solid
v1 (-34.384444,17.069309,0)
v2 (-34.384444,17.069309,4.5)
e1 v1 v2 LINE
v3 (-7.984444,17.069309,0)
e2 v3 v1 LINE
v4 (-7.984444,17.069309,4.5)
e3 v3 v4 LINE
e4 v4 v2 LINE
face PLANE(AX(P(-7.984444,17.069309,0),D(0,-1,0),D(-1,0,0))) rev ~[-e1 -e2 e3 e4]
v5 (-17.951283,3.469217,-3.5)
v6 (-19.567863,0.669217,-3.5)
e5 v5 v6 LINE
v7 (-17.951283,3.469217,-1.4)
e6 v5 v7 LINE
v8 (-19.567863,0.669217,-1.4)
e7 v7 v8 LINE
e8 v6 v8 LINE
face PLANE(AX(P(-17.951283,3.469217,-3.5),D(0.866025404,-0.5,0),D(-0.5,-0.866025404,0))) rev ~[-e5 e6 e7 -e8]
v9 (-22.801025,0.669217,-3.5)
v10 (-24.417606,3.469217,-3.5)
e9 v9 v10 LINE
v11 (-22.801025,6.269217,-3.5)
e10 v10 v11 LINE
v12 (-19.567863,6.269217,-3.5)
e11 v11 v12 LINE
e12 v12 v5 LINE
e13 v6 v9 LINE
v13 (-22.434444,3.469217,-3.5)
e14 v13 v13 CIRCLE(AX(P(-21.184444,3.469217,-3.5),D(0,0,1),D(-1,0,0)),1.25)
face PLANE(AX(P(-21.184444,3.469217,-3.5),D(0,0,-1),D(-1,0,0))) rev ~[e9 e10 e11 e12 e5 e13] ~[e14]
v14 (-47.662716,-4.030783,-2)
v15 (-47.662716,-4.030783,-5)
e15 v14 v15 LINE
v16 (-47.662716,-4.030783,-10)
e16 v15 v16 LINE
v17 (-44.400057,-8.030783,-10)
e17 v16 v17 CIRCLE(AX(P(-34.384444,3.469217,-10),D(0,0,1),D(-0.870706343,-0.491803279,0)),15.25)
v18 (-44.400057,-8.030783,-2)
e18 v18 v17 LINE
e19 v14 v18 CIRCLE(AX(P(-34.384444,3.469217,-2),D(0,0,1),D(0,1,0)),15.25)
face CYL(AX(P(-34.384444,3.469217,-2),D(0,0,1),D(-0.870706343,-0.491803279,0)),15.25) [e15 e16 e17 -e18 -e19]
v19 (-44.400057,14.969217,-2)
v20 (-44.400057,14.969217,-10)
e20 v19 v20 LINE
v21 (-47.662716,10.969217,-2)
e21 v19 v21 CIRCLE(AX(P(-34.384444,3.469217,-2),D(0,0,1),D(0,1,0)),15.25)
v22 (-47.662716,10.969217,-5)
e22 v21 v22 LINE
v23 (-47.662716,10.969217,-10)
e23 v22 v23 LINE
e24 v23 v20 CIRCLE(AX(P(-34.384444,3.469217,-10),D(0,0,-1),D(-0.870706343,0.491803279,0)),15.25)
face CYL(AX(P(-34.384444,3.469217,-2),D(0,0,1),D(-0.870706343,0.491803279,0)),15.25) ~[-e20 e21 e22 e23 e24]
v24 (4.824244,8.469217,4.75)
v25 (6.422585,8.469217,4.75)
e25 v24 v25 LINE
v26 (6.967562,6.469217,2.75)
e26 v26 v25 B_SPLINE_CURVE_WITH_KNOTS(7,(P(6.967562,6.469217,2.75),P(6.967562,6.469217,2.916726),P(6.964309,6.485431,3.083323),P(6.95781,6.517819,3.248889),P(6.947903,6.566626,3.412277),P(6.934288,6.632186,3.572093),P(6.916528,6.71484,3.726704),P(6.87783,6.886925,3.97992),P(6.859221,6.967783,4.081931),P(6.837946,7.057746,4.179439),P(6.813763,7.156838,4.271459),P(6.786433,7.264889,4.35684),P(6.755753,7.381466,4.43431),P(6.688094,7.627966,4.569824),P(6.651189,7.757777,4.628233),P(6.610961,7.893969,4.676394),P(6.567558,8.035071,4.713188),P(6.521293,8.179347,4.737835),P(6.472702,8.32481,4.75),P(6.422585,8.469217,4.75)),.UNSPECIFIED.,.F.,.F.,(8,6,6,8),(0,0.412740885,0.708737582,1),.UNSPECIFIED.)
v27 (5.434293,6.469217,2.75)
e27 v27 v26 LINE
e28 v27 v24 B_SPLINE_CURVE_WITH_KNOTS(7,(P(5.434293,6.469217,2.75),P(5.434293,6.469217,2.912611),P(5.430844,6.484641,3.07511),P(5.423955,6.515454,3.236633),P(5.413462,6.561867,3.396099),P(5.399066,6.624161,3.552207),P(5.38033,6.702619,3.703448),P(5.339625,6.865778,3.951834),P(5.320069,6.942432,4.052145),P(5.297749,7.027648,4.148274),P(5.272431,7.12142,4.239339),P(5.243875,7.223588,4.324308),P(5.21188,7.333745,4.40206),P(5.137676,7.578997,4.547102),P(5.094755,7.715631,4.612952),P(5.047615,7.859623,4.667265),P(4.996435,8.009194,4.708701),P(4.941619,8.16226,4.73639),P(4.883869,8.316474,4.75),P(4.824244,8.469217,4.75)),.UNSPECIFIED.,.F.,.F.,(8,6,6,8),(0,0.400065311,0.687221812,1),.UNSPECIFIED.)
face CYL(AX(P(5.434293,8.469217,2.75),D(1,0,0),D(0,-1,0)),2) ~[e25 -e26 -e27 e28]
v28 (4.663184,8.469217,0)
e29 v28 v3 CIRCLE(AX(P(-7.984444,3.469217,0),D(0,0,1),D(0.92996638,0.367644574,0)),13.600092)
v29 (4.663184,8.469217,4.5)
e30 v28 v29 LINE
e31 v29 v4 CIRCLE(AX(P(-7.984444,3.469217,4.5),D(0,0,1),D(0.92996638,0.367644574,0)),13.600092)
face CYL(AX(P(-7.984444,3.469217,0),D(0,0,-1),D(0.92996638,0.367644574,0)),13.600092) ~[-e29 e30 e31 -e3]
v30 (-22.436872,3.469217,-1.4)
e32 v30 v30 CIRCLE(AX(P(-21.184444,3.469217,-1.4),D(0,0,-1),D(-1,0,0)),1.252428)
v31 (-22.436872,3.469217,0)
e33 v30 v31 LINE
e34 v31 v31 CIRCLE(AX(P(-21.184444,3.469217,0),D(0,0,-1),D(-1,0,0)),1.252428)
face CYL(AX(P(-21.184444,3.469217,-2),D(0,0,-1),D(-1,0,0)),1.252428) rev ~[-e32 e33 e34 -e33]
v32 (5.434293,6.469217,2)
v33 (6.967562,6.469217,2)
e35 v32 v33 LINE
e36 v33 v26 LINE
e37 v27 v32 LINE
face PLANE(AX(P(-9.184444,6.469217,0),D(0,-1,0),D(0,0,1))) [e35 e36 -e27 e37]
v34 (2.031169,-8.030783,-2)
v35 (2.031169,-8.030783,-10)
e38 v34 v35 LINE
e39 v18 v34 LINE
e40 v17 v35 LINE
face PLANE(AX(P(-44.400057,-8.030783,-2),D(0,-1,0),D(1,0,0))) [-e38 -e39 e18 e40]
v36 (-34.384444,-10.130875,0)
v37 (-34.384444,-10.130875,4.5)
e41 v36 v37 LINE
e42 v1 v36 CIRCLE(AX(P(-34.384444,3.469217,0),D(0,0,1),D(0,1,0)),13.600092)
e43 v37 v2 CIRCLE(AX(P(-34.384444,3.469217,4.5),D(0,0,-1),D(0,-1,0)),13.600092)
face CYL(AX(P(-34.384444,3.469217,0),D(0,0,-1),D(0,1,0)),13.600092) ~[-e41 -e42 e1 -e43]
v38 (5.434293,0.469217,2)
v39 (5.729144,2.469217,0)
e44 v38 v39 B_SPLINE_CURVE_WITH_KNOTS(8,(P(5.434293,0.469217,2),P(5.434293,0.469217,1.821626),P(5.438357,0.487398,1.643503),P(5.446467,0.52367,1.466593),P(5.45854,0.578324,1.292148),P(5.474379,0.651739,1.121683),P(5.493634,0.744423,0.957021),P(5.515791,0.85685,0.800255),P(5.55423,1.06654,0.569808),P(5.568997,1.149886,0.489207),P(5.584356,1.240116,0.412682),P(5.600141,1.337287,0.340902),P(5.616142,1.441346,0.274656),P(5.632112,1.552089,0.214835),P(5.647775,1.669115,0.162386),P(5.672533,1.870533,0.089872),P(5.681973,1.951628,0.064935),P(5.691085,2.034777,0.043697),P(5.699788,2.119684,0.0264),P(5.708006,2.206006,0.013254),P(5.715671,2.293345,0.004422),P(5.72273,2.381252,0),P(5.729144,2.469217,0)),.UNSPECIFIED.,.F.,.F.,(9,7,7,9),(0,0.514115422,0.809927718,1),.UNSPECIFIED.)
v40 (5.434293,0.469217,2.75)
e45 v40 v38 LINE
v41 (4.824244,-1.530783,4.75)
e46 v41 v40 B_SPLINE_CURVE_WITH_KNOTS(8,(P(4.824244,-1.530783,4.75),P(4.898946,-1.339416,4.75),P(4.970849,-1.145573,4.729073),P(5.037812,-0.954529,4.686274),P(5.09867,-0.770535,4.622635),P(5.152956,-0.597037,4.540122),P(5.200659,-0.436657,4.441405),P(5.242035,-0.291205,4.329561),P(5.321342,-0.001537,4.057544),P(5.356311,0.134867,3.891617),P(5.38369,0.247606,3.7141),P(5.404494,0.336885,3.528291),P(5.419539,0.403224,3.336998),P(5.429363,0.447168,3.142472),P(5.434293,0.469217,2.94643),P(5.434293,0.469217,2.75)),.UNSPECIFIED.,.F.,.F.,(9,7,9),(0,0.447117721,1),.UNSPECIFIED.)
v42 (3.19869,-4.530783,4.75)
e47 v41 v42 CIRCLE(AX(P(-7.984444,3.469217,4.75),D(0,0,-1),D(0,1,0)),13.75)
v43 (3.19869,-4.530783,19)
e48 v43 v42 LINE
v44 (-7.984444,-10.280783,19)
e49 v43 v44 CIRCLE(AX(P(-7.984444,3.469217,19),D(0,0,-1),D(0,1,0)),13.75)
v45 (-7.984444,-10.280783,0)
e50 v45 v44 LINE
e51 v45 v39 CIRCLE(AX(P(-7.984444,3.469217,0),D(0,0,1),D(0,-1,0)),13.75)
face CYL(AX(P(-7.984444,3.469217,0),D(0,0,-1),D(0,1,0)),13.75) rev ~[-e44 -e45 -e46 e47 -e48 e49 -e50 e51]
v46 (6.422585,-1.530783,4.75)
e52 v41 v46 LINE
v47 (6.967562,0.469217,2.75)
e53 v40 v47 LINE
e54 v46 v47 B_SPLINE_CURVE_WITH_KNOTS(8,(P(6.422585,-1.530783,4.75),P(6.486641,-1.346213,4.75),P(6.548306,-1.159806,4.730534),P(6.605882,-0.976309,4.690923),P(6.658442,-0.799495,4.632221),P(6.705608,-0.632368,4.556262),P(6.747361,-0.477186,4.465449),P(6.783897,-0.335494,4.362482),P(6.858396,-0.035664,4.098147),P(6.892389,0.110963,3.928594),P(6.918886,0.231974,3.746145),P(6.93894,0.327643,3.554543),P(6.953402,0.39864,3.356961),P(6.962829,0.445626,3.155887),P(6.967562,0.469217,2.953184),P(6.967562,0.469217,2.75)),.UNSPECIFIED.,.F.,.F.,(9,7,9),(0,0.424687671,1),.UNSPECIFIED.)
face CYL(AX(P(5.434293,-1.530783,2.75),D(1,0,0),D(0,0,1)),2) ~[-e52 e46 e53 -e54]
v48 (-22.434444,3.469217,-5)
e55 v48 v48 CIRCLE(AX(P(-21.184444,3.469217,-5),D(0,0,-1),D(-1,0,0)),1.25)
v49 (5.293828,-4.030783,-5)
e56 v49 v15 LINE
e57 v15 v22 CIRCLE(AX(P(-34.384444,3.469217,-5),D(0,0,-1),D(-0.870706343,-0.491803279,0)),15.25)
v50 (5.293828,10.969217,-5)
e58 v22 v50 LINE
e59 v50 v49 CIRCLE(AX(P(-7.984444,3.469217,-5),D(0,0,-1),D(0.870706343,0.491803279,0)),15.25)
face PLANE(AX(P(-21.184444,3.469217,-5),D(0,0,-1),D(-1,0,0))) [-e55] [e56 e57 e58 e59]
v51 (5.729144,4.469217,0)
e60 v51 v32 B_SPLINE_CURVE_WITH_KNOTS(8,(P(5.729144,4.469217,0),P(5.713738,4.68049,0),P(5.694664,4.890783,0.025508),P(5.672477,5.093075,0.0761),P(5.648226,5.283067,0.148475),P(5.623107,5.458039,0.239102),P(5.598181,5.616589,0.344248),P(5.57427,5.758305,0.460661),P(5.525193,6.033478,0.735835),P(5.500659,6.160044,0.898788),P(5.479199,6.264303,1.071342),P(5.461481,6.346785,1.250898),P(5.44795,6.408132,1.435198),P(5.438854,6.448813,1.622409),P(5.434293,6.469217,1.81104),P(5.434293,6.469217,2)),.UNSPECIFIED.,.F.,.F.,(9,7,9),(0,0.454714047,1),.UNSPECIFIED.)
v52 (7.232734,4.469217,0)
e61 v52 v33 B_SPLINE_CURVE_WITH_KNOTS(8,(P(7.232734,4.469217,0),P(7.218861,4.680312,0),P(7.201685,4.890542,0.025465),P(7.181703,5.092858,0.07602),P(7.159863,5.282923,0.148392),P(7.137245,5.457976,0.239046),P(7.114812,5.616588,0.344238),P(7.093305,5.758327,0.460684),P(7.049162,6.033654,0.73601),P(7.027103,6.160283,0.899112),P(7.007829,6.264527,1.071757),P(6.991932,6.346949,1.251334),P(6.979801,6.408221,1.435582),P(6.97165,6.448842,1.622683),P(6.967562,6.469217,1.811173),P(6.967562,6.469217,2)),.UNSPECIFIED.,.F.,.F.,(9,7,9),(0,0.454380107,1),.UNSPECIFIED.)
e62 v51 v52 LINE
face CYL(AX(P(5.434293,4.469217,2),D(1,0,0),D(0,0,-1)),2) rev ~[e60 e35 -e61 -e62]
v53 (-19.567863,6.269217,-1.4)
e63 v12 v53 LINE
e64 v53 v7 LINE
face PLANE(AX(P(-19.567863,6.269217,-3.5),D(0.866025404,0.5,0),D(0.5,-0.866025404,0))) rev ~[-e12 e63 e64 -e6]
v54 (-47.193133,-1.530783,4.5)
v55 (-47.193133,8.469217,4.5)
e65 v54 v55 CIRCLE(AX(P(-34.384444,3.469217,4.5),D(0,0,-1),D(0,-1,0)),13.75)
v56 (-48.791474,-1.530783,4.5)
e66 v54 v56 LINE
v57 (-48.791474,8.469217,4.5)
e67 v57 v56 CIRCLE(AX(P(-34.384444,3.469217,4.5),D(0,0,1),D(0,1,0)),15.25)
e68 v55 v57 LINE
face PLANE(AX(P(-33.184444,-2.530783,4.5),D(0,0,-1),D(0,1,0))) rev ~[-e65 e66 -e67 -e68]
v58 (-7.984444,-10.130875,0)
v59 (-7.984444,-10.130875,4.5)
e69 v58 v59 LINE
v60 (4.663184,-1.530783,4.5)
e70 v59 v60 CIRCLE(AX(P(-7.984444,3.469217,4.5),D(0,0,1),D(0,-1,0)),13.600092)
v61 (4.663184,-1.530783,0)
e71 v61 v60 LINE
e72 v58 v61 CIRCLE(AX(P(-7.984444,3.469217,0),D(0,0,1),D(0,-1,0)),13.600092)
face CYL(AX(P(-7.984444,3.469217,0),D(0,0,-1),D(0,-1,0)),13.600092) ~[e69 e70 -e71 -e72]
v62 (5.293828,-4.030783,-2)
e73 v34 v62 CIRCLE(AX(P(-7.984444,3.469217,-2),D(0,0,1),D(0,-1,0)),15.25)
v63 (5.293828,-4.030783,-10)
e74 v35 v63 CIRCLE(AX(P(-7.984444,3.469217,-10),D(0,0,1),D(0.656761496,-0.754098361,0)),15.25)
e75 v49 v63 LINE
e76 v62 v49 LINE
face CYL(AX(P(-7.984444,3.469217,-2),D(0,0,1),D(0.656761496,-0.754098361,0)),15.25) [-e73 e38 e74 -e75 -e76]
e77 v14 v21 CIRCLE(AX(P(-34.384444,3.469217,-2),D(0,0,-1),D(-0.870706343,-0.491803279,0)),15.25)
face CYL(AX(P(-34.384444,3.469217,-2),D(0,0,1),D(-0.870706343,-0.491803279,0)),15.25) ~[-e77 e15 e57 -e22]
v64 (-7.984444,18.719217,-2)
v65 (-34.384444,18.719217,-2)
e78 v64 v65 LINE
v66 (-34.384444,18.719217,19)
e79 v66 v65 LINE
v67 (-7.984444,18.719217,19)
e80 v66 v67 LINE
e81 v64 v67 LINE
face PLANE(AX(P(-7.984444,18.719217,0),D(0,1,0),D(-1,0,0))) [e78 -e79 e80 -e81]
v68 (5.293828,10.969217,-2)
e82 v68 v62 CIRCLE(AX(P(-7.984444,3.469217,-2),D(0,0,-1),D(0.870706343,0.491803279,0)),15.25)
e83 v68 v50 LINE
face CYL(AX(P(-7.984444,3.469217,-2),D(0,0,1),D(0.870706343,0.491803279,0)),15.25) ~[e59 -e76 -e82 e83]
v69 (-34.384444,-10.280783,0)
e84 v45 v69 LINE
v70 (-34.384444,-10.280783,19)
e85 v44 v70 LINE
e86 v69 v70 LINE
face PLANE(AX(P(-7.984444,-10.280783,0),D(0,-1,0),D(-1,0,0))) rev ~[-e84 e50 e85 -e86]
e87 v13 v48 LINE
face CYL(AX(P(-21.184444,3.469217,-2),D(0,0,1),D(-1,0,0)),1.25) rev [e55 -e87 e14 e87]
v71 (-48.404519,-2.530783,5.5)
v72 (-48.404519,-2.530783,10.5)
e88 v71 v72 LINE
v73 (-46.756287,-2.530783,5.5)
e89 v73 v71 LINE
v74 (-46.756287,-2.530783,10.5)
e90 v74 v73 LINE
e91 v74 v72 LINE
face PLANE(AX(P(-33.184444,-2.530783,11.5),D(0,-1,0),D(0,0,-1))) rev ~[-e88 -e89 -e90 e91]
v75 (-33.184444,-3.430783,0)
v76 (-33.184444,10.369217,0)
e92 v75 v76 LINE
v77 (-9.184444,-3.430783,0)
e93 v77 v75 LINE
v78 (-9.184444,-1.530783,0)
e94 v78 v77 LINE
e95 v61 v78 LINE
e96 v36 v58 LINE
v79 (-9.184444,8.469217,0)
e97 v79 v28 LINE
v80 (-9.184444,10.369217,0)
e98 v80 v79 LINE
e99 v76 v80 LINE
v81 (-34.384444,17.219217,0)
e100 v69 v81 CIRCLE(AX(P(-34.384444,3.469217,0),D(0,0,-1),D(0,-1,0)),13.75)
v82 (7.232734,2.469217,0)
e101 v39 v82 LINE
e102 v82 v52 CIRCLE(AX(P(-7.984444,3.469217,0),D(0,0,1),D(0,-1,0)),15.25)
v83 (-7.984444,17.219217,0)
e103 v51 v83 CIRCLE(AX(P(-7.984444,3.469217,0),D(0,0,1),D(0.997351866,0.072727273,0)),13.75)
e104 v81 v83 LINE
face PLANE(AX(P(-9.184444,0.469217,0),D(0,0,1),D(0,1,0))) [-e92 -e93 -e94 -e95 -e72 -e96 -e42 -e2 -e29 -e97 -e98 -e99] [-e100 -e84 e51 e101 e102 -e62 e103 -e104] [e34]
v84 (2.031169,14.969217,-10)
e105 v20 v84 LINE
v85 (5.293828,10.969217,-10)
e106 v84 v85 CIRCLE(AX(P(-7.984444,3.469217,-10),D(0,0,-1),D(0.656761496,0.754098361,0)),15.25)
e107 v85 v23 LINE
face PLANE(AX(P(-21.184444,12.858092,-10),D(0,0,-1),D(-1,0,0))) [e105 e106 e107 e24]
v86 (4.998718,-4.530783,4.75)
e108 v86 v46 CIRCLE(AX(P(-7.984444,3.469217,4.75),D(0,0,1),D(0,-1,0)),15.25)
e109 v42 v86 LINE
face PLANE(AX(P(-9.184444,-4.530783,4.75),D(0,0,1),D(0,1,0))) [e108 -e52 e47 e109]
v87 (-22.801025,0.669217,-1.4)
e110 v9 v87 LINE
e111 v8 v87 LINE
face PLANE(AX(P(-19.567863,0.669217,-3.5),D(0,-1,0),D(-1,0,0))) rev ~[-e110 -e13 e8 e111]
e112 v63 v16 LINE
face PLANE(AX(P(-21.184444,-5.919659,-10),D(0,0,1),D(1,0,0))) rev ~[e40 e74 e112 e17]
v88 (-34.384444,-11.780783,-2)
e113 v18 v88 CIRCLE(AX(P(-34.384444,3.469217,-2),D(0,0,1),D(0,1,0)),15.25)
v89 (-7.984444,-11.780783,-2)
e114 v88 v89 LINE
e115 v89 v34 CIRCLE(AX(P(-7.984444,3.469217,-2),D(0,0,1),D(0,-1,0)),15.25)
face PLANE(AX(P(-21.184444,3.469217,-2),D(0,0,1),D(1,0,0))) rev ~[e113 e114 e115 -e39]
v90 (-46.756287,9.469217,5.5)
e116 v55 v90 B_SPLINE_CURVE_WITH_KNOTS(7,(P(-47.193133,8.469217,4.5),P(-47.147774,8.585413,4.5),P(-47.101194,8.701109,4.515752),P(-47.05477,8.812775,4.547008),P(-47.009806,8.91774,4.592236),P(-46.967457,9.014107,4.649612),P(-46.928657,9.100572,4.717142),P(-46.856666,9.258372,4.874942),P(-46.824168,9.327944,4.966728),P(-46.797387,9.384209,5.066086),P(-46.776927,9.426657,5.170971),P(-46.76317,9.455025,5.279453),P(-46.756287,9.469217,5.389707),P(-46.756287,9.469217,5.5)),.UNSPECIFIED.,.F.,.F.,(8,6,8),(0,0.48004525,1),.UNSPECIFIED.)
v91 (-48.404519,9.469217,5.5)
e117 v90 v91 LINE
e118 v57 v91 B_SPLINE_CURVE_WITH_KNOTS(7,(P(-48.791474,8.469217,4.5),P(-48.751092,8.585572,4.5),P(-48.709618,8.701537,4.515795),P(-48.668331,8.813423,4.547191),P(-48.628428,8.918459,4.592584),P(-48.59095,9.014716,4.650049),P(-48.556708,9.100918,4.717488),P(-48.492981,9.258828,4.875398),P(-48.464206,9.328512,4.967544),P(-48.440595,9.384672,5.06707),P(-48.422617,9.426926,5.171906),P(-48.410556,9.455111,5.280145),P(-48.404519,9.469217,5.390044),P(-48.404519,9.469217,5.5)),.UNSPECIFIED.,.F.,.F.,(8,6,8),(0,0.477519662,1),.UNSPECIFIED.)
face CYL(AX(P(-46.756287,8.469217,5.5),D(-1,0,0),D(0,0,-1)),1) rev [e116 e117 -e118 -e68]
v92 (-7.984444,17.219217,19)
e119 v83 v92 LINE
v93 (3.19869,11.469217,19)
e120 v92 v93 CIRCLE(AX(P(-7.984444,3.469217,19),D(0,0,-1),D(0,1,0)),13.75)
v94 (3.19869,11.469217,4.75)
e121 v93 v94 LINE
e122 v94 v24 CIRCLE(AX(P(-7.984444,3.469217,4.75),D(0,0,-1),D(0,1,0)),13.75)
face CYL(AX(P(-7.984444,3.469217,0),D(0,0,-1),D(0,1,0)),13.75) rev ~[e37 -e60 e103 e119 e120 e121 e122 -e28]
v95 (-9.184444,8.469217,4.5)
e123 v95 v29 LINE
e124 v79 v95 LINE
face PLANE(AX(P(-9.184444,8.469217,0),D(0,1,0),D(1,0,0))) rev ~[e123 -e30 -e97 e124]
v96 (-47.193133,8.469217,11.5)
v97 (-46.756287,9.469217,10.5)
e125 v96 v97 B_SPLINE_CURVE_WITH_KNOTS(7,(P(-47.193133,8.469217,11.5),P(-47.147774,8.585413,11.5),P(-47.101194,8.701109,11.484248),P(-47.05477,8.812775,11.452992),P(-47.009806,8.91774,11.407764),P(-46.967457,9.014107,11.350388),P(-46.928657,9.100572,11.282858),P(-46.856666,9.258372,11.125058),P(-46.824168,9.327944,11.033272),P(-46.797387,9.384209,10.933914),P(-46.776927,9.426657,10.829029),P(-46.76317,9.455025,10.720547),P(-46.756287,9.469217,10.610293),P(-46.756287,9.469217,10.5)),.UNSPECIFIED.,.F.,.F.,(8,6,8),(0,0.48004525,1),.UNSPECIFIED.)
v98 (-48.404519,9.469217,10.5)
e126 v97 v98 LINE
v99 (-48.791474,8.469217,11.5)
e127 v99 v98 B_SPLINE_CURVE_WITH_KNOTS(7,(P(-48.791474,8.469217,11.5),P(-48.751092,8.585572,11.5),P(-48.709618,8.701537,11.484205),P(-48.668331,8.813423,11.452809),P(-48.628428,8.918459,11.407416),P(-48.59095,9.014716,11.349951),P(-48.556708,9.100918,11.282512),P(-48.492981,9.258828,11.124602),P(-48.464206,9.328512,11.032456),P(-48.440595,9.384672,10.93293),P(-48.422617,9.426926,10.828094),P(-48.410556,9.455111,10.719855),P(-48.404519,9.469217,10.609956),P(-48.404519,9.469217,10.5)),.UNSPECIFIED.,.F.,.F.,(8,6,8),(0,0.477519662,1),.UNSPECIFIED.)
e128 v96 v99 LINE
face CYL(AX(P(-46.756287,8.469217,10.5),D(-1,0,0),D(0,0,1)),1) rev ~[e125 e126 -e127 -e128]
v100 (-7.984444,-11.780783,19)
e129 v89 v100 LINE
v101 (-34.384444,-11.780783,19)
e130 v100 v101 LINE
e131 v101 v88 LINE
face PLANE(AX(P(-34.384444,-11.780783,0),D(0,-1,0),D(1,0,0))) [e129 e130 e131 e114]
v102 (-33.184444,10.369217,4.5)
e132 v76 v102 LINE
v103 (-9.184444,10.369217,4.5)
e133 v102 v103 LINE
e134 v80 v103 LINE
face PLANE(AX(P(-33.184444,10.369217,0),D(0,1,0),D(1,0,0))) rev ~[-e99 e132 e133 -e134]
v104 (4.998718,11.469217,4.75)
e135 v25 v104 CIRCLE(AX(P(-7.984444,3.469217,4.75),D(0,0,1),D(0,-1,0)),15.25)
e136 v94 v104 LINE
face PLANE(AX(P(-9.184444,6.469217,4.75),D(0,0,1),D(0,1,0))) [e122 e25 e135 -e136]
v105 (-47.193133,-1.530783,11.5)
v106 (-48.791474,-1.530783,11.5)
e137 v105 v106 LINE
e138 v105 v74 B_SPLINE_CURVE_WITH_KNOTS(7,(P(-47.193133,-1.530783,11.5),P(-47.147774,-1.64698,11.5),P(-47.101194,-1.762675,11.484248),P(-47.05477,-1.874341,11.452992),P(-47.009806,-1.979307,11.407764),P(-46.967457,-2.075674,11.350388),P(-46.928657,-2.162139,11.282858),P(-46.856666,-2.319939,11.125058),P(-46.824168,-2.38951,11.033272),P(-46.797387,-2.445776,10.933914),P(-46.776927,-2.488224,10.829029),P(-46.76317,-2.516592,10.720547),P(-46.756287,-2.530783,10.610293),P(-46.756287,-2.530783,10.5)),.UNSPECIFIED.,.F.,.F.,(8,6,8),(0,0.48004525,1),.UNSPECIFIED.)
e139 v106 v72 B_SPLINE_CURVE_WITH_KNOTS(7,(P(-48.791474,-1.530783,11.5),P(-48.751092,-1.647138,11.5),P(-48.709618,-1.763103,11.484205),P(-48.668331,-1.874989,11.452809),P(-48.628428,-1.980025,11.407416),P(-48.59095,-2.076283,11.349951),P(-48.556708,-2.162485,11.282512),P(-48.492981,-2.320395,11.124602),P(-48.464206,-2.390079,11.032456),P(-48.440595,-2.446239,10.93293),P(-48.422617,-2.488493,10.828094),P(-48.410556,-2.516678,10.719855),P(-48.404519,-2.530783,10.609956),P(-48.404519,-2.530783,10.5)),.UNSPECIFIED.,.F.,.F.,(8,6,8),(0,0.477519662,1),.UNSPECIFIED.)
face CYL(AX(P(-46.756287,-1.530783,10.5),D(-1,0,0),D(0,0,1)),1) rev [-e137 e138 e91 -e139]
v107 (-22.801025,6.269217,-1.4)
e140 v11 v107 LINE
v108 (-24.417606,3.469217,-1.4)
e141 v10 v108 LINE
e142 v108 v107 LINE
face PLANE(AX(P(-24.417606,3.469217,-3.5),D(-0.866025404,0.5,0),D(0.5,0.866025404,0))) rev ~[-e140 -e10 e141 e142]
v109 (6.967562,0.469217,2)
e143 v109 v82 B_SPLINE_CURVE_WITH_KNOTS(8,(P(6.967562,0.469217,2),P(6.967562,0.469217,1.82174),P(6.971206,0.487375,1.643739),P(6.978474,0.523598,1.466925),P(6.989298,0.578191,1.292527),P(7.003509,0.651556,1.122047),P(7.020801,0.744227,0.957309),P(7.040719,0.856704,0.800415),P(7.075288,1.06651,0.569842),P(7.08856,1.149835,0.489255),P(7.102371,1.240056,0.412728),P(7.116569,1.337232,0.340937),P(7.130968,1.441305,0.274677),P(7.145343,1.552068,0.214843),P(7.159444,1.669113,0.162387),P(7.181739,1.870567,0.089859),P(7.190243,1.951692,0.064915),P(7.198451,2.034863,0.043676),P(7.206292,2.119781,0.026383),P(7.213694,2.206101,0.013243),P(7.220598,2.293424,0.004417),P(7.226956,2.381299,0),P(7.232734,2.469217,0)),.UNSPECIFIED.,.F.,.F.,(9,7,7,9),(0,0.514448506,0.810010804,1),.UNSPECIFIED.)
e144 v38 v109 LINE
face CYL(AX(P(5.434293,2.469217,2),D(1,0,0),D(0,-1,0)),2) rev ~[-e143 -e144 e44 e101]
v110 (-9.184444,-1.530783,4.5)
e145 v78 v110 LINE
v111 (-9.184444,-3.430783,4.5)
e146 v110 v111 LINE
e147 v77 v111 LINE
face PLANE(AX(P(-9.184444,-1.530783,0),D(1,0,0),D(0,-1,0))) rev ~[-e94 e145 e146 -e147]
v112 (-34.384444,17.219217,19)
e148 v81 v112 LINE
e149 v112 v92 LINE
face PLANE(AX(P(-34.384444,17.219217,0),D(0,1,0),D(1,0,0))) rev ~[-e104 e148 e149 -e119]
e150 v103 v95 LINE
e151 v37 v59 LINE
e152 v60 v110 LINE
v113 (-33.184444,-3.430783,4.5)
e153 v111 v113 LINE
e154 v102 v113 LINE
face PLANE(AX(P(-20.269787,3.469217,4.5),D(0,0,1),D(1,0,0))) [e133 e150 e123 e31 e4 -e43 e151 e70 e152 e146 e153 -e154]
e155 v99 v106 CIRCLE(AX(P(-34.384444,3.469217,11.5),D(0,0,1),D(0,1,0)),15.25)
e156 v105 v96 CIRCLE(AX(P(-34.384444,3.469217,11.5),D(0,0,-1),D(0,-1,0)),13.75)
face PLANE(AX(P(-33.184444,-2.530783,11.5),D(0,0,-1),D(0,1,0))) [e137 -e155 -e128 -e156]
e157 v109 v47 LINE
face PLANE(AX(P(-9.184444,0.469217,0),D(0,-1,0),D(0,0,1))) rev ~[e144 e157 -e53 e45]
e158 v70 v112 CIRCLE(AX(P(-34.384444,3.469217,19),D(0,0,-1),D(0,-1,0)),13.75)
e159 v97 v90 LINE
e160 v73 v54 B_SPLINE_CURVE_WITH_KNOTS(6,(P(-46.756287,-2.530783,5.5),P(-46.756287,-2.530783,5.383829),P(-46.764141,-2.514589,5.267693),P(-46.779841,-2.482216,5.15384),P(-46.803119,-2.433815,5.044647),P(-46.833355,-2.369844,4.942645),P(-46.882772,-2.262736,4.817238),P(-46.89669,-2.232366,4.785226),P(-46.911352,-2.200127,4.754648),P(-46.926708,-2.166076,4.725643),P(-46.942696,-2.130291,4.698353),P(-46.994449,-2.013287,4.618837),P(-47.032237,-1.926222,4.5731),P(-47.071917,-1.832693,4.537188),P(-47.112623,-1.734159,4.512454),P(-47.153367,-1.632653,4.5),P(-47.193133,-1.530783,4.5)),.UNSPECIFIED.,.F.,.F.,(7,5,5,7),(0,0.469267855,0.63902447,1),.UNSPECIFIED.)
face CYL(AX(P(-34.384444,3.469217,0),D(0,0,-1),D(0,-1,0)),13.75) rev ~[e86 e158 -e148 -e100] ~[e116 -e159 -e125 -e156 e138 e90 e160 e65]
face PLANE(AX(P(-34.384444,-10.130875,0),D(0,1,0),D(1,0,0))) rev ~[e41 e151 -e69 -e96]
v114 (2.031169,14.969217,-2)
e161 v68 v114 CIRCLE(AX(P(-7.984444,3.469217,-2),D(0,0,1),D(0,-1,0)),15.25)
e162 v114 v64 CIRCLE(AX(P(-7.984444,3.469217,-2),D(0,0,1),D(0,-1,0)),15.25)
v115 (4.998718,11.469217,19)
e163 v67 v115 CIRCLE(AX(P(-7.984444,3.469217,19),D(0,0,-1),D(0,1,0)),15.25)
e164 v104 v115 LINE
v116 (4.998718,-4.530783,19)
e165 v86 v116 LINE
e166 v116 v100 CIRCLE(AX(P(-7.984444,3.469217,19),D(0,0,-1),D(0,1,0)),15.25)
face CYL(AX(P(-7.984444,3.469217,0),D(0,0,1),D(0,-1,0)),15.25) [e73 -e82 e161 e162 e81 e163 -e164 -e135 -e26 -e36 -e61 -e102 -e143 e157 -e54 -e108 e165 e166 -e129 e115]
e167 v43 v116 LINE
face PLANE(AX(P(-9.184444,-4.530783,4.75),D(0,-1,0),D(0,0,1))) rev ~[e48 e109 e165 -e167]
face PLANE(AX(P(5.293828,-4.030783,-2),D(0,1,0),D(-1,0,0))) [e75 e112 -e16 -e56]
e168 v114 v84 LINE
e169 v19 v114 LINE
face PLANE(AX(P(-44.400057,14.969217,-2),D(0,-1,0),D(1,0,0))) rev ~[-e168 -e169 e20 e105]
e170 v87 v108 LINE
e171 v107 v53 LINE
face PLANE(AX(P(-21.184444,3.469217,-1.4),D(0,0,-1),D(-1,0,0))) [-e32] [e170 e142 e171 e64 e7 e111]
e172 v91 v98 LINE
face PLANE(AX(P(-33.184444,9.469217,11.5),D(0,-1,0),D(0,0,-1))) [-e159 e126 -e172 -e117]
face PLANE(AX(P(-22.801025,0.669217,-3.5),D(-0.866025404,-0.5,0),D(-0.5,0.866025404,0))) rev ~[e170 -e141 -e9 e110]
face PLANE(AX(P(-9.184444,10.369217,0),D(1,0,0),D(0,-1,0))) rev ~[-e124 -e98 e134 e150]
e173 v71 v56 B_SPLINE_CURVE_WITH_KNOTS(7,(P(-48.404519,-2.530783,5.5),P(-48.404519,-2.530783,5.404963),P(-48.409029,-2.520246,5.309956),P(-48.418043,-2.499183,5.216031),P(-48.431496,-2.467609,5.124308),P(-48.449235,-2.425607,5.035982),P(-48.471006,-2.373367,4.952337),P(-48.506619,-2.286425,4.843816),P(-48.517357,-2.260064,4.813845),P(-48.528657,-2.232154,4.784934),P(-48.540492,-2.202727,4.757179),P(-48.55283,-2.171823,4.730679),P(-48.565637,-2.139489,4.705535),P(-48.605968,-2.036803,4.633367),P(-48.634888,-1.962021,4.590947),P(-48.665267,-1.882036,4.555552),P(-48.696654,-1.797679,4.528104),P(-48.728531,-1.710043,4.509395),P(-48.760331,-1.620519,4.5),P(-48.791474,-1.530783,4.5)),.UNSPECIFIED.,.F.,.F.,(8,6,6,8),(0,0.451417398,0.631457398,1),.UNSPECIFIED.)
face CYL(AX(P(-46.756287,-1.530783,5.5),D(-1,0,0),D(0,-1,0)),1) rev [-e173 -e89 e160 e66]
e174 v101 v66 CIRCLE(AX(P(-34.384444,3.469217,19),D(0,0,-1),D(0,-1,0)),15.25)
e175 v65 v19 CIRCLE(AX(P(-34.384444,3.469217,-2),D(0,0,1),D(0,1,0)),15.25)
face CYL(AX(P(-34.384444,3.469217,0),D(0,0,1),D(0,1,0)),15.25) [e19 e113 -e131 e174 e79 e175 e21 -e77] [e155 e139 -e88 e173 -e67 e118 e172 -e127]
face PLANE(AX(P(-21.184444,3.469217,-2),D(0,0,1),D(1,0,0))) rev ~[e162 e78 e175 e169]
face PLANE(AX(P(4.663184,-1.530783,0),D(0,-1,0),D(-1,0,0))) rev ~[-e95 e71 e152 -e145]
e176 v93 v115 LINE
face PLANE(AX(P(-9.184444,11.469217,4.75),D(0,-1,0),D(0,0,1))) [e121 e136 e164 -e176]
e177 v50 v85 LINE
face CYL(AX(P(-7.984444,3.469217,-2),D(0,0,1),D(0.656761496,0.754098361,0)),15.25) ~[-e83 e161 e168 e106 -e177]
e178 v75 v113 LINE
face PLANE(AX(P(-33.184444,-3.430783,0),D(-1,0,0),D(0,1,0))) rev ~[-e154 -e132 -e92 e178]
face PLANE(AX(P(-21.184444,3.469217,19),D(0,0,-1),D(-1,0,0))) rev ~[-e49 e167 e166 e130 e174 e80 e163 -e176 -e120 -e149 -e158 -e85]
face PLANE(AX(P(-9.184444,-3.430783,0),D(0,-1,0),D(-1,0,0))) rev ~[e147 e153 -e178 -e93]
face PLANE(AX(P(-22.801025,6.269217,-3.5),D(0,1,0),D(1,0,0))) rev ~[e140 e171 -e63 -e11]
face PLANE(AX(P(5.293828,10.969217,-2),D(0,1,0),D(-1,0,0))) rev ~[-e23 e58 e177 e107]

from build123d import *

# Parameters (mm, degrees)
BOSS_EXTRUDE1_DEPTH = 19
BOSS_EXTRUDE2_DEPTH = 2
BOSS_EXTRUDE3_DEPTH = 4.5
SKETCH4_W           = 4.75
SKETCH4_H           = 6
SKETCH4_W_2         = 14.25
SKETCH4_H_2         = 16
CUT_EXTRUDE1_DEPTH  = 49.452157546
SKETCH5_W           = 7
SKETCH5_H           = 12
CUT_EXTRUDE2_DEPTH  = 49.452157546
FILLET1_R           = 1
SKETCH6_R           = 1.25
BOSS_EXTRUDE4_DEPTH = 3
BOSS_EXTRUDE7_DEPTH = 8
FILLET2_R           = 2
SKETCH9_R           = 1.252428217
CUT_EXTRUDE3_DEPTH  = 10
CUT_EXTRUDE6_START  = -1.5
CUT_EXTRUDE6_DEPTH  = 2.1


with BuildPart() as part:
    # Sketch1 → Boss-Extrude1 (new body)
    with BuildSketch(Plane.XY):
        with BuildLine():
            Line((-34.384444189, 18.719216619), (-7.984444189, 18.719216619))
            ThreePointArc((-7.984444189, 18.719216619), (7.265555811, 3.469216619), (-7.984444189, -11.780783381))
            Line((-7.984444189, -11.780783381), (-34.384444189, -11.780783381))
            ThreePointArc((-34.384444189, -11.780783381), (-49.634444189, 3.469216619), (-34.384444189, 18.719216619))
        make_face()
        with BuildLine():
            Line((-34.384444189, 17.219216619), (-7.984444189, 17.219216619))
            ThreePointArc((-7.984444189, 17.219216619), (5.765555811, 3.469216619), (-7.984444189, -10.280783381))
            Line((-7.984444189, -10.280783381), (-34.384444189, -10.280783381))
            ThreePointArc((-34.384444189, -10.280783381), (-48.134444189, 3.469216619), (-34.384444189, 17.219216619))
        make_face(mode=Mode.SUBTRACT)
    extrude(amount=BOSS_EXTRUDE1_DEPTH)



with BuildPart() as body_2:
    # Sketch2 → Boss-Extrude2 (new body)
    with BuildSketch(Plane(origin=(0, 0, 0), x_dir=(-1, 0, 0), z_dir=(0, 0, -1))):
        with BuildLine():
            Line((34.384444189, -11.780783381), (7.984444189, -11.780783381))
            ThreePointArc((7.984444189, -11.780783381), (-7.265555811, 3.469216619), (7.984444189, 18.719216619))
            Line((7.984444189, 18.719216619), (34.384444189, 18.719216619))
            ThreePointArc((34.384444189, 18.719216619), (49.634444189, 3.469216619), (34.384444189, -11.780783381))
        make_face()
    extrude(amount=BOSS_EXTRUDE2_DEPTH)


with BuildPart() as part_1:
    add(part.part)

    add(body_2.part)  # Boss-Extrude3 merges body 2
    # Sketch3 → Boss-Extrude3 (add)
    with BuildSketch(Plane.XY):
        with BuildLine():
            Line((-22.664695889, -3.430783381), (-33.184444189, -3.430783381))
            Line((-33.184444189, -3.430783381), (-33.184444189, 10.369216619))
            Line((-33.184444189, 10.369216619), (-19.704192488, 10.369216619))
            Line((-19.704192488, 10.369216619), (-9.184444189, 10.369216619))
            Line((-9.184444189, 10.369216619), (-9.184444189, 8.469216619))
            Line((-9.184444189, 8.469216619), (4.663184056, 8.469216619))
            ThreePointArc((4.663184056, 8.469216619), (-0.337155761, 14.715615149), (-7.984444189, 17.069308538))
            Line((-7.984444189, 17.069308538), (-34.384444189, 17.069308538))
            ThreePointArc((-34.384444189, 17.069308538), (-47.984536108, 3.469216619), (-34.384444189, -10.1308753))
            Line((-34.384444189, -10.1308753), (-7.984444189, -10.1308753))
            ThreePointArc((-7.984444189, -10.1308753), (-0.337155761, -7.777181911), (4.663184056, -1.530783381))
            Line((4.663184056, -1.530783381), (-9.184444189, -1.530783381))
            Line((-9.184444189, -1.530783381), (-9.184444189, -3.430783381))
            Line((-9.184444189, -3.430783381), (-19.704192488, -3.430783381))
            Line((-19.704192488, -3.430783381), (-22.664695889, -3.430783381))
        make_face()
    extrude(amount=BOSS_EXTRUDE3_DEPTH)

    # Sketch4 → Cut-Extrude1 (cut, through all)
    with BuildSketch(Plane.ZY.offset(9.184444189)):
        with Locations((2.375, 3.469216619)):
            Rectangle(SKETCH4_W, SKETCH4_H)
        with Locations((11.875, 3.469216619)):
            Rectangle(SKETCH4_W_2, SKETCH4_H_2)
    extrude(amount=-CUT_EXTRUDE1_DEPTH, mode=Mode.SUBTRACT)

    # Sketch5 → Cut-Extrude2 (cut, through all)
    with BuildSketch(Plane(origin=(-33.184444189, 0, 0), x_dir=(0, 0, -1), z_dir=(1, 0, 0))):
        with Locations((-8, 3.469216619)):
            Rectangle(SKETCH5_W, SKETCH5_H)
    extrude(amount=-CUT_EXTRUDE2_DEPTH, mode=Mode.SUBTRACT)

    # Fillet1
    fillet1_edges = [part_1.edges().sort_by_distance(p)[0] for p in [
        (-47.580403151, -2.530783381, 11.5),
        (-47.580403151, 9.469216619, 11.5),
        (-47.580403151, 9.469216619, 4.5),
        (-47.580403151, -2.530783381, 4.5),
    ]]
    fillet(fillet1_edges, radius=FILLET1_R)

    # Sketch6 → Boss-Extrude4 (add)
    with BuildSketch(Plane(origin=(0, 0, -2), x_dir=(-1, 0, 0), z_dir=(0, 0, -1))):
        with BuildLine():
            ThreePointArc((47.662715914, -4.030783381), (49.634444189, 3.469216619), (47.662715914, 10.969216619))
            Line((47.662715914, 10.969216619), (-5.293827536, 10.969216619))
            ThreePointArc((-5.293827536, 10.969216619), (-7.265555811, 3.469216619), (-5.293827536, -4.030783381))
            Line((-5.293827536, -4.030783381), (47.662715914, -4.030783381))
        make_face()
        with Locations((21.184444189, 3.469216619)):
            Circle(SKETCH6_R, mode=Mode.SUBTRACT)
    extrude(amount=BOSS_EXTRUDE4_DEPTH)

    # Sketch10 → Boss-Extrude7 (add)
    with BuildSketch(Plane(origin=(0, 0, -2), x_dir=(-1, 0, 0), z_dir=(0, 0, -1))):
        with BuildLine():
            Line((-5.293827536, -4.030783381), (47.662715914, -4.030783381))
            ThreePointArc((47.662715914, -4.030783381), (46.201857789, -6.169830834), (44.400057001, -8.030783381))
            Line((44.400057001, -8.030783381), (-2.031168623, -8.030783381))
            ThreePointArc((-2.031168623, -8.030783381), (-3.832969412, -6.169830834), (-5.293827536, -4.030783381))
        make_face()
        with BuildLine():
            Line((-5.293827536, 10.969216619), (47.662715914, 10.969216619))
            ThreePointArc((47.662715914, 10.969216619), (46.201857789, 13.108264072), (44.400057001, 14.969216619))
            Line((44.400057001, 14.969216619), (-2.031168623, 14.969216619))
            ThreePointArc((-2.031168623, 14.969216619), (-3.832969412, 13.108264072), (-5.293827536, 10.969216619))
        make_face()
    extrude(amount=BOSS_EXTRUDE7_DEPTH)

    # Fillet2
    fillet2_edges = [part_1.edges().sort_by_distance(p)[0] for p in [
        (6.200927538, 0.469216619, 0),
        (6.200927538, 6.469216619, 0),
        (6.200927538, 6.469216619, 4.75),
        (6.200927538, 0.469216619, 4.75),
    ]]
    fillet(fillet2_edges, radius=FILLET2_R)

    # Sketch9 → Cut-Extrude3 (cut)
    with BuildSketch(Plane(origin=(0, 0, -2), x_dir=(-1, 0, 0), z_dir=(0, 0, -1))):
        with Locations((21.184444189, 3.469216619)):
            Circle(SKETCH9_R)
    extrude(amount=-CUT_EXTRUDE3_DEPTH, mode=Mode.SUBTRACT)

    # Sketch13 → Cut-Extrude6 (cut)
    with BuildSketch(Plane(origin=(0, 0, -5), x_dir=(-1, 0, 0), z_dir=(0, 0, -1)).offset(CUT_EXTRUDE6_START)):
        Polygon((17.951282681, 3.469216619), (19.567863435, 0.669216619), (22.801024943, 0.669216619), (24.417605696, 3.469216619), (22.801024943, 6.269216619), (19.567863435, 6.269216619), align=None)
    extrude(amount=-CUT_EXTRUDE6_DEPTH, mode=Mode.SUBTRACT)


solid = part_1.part
